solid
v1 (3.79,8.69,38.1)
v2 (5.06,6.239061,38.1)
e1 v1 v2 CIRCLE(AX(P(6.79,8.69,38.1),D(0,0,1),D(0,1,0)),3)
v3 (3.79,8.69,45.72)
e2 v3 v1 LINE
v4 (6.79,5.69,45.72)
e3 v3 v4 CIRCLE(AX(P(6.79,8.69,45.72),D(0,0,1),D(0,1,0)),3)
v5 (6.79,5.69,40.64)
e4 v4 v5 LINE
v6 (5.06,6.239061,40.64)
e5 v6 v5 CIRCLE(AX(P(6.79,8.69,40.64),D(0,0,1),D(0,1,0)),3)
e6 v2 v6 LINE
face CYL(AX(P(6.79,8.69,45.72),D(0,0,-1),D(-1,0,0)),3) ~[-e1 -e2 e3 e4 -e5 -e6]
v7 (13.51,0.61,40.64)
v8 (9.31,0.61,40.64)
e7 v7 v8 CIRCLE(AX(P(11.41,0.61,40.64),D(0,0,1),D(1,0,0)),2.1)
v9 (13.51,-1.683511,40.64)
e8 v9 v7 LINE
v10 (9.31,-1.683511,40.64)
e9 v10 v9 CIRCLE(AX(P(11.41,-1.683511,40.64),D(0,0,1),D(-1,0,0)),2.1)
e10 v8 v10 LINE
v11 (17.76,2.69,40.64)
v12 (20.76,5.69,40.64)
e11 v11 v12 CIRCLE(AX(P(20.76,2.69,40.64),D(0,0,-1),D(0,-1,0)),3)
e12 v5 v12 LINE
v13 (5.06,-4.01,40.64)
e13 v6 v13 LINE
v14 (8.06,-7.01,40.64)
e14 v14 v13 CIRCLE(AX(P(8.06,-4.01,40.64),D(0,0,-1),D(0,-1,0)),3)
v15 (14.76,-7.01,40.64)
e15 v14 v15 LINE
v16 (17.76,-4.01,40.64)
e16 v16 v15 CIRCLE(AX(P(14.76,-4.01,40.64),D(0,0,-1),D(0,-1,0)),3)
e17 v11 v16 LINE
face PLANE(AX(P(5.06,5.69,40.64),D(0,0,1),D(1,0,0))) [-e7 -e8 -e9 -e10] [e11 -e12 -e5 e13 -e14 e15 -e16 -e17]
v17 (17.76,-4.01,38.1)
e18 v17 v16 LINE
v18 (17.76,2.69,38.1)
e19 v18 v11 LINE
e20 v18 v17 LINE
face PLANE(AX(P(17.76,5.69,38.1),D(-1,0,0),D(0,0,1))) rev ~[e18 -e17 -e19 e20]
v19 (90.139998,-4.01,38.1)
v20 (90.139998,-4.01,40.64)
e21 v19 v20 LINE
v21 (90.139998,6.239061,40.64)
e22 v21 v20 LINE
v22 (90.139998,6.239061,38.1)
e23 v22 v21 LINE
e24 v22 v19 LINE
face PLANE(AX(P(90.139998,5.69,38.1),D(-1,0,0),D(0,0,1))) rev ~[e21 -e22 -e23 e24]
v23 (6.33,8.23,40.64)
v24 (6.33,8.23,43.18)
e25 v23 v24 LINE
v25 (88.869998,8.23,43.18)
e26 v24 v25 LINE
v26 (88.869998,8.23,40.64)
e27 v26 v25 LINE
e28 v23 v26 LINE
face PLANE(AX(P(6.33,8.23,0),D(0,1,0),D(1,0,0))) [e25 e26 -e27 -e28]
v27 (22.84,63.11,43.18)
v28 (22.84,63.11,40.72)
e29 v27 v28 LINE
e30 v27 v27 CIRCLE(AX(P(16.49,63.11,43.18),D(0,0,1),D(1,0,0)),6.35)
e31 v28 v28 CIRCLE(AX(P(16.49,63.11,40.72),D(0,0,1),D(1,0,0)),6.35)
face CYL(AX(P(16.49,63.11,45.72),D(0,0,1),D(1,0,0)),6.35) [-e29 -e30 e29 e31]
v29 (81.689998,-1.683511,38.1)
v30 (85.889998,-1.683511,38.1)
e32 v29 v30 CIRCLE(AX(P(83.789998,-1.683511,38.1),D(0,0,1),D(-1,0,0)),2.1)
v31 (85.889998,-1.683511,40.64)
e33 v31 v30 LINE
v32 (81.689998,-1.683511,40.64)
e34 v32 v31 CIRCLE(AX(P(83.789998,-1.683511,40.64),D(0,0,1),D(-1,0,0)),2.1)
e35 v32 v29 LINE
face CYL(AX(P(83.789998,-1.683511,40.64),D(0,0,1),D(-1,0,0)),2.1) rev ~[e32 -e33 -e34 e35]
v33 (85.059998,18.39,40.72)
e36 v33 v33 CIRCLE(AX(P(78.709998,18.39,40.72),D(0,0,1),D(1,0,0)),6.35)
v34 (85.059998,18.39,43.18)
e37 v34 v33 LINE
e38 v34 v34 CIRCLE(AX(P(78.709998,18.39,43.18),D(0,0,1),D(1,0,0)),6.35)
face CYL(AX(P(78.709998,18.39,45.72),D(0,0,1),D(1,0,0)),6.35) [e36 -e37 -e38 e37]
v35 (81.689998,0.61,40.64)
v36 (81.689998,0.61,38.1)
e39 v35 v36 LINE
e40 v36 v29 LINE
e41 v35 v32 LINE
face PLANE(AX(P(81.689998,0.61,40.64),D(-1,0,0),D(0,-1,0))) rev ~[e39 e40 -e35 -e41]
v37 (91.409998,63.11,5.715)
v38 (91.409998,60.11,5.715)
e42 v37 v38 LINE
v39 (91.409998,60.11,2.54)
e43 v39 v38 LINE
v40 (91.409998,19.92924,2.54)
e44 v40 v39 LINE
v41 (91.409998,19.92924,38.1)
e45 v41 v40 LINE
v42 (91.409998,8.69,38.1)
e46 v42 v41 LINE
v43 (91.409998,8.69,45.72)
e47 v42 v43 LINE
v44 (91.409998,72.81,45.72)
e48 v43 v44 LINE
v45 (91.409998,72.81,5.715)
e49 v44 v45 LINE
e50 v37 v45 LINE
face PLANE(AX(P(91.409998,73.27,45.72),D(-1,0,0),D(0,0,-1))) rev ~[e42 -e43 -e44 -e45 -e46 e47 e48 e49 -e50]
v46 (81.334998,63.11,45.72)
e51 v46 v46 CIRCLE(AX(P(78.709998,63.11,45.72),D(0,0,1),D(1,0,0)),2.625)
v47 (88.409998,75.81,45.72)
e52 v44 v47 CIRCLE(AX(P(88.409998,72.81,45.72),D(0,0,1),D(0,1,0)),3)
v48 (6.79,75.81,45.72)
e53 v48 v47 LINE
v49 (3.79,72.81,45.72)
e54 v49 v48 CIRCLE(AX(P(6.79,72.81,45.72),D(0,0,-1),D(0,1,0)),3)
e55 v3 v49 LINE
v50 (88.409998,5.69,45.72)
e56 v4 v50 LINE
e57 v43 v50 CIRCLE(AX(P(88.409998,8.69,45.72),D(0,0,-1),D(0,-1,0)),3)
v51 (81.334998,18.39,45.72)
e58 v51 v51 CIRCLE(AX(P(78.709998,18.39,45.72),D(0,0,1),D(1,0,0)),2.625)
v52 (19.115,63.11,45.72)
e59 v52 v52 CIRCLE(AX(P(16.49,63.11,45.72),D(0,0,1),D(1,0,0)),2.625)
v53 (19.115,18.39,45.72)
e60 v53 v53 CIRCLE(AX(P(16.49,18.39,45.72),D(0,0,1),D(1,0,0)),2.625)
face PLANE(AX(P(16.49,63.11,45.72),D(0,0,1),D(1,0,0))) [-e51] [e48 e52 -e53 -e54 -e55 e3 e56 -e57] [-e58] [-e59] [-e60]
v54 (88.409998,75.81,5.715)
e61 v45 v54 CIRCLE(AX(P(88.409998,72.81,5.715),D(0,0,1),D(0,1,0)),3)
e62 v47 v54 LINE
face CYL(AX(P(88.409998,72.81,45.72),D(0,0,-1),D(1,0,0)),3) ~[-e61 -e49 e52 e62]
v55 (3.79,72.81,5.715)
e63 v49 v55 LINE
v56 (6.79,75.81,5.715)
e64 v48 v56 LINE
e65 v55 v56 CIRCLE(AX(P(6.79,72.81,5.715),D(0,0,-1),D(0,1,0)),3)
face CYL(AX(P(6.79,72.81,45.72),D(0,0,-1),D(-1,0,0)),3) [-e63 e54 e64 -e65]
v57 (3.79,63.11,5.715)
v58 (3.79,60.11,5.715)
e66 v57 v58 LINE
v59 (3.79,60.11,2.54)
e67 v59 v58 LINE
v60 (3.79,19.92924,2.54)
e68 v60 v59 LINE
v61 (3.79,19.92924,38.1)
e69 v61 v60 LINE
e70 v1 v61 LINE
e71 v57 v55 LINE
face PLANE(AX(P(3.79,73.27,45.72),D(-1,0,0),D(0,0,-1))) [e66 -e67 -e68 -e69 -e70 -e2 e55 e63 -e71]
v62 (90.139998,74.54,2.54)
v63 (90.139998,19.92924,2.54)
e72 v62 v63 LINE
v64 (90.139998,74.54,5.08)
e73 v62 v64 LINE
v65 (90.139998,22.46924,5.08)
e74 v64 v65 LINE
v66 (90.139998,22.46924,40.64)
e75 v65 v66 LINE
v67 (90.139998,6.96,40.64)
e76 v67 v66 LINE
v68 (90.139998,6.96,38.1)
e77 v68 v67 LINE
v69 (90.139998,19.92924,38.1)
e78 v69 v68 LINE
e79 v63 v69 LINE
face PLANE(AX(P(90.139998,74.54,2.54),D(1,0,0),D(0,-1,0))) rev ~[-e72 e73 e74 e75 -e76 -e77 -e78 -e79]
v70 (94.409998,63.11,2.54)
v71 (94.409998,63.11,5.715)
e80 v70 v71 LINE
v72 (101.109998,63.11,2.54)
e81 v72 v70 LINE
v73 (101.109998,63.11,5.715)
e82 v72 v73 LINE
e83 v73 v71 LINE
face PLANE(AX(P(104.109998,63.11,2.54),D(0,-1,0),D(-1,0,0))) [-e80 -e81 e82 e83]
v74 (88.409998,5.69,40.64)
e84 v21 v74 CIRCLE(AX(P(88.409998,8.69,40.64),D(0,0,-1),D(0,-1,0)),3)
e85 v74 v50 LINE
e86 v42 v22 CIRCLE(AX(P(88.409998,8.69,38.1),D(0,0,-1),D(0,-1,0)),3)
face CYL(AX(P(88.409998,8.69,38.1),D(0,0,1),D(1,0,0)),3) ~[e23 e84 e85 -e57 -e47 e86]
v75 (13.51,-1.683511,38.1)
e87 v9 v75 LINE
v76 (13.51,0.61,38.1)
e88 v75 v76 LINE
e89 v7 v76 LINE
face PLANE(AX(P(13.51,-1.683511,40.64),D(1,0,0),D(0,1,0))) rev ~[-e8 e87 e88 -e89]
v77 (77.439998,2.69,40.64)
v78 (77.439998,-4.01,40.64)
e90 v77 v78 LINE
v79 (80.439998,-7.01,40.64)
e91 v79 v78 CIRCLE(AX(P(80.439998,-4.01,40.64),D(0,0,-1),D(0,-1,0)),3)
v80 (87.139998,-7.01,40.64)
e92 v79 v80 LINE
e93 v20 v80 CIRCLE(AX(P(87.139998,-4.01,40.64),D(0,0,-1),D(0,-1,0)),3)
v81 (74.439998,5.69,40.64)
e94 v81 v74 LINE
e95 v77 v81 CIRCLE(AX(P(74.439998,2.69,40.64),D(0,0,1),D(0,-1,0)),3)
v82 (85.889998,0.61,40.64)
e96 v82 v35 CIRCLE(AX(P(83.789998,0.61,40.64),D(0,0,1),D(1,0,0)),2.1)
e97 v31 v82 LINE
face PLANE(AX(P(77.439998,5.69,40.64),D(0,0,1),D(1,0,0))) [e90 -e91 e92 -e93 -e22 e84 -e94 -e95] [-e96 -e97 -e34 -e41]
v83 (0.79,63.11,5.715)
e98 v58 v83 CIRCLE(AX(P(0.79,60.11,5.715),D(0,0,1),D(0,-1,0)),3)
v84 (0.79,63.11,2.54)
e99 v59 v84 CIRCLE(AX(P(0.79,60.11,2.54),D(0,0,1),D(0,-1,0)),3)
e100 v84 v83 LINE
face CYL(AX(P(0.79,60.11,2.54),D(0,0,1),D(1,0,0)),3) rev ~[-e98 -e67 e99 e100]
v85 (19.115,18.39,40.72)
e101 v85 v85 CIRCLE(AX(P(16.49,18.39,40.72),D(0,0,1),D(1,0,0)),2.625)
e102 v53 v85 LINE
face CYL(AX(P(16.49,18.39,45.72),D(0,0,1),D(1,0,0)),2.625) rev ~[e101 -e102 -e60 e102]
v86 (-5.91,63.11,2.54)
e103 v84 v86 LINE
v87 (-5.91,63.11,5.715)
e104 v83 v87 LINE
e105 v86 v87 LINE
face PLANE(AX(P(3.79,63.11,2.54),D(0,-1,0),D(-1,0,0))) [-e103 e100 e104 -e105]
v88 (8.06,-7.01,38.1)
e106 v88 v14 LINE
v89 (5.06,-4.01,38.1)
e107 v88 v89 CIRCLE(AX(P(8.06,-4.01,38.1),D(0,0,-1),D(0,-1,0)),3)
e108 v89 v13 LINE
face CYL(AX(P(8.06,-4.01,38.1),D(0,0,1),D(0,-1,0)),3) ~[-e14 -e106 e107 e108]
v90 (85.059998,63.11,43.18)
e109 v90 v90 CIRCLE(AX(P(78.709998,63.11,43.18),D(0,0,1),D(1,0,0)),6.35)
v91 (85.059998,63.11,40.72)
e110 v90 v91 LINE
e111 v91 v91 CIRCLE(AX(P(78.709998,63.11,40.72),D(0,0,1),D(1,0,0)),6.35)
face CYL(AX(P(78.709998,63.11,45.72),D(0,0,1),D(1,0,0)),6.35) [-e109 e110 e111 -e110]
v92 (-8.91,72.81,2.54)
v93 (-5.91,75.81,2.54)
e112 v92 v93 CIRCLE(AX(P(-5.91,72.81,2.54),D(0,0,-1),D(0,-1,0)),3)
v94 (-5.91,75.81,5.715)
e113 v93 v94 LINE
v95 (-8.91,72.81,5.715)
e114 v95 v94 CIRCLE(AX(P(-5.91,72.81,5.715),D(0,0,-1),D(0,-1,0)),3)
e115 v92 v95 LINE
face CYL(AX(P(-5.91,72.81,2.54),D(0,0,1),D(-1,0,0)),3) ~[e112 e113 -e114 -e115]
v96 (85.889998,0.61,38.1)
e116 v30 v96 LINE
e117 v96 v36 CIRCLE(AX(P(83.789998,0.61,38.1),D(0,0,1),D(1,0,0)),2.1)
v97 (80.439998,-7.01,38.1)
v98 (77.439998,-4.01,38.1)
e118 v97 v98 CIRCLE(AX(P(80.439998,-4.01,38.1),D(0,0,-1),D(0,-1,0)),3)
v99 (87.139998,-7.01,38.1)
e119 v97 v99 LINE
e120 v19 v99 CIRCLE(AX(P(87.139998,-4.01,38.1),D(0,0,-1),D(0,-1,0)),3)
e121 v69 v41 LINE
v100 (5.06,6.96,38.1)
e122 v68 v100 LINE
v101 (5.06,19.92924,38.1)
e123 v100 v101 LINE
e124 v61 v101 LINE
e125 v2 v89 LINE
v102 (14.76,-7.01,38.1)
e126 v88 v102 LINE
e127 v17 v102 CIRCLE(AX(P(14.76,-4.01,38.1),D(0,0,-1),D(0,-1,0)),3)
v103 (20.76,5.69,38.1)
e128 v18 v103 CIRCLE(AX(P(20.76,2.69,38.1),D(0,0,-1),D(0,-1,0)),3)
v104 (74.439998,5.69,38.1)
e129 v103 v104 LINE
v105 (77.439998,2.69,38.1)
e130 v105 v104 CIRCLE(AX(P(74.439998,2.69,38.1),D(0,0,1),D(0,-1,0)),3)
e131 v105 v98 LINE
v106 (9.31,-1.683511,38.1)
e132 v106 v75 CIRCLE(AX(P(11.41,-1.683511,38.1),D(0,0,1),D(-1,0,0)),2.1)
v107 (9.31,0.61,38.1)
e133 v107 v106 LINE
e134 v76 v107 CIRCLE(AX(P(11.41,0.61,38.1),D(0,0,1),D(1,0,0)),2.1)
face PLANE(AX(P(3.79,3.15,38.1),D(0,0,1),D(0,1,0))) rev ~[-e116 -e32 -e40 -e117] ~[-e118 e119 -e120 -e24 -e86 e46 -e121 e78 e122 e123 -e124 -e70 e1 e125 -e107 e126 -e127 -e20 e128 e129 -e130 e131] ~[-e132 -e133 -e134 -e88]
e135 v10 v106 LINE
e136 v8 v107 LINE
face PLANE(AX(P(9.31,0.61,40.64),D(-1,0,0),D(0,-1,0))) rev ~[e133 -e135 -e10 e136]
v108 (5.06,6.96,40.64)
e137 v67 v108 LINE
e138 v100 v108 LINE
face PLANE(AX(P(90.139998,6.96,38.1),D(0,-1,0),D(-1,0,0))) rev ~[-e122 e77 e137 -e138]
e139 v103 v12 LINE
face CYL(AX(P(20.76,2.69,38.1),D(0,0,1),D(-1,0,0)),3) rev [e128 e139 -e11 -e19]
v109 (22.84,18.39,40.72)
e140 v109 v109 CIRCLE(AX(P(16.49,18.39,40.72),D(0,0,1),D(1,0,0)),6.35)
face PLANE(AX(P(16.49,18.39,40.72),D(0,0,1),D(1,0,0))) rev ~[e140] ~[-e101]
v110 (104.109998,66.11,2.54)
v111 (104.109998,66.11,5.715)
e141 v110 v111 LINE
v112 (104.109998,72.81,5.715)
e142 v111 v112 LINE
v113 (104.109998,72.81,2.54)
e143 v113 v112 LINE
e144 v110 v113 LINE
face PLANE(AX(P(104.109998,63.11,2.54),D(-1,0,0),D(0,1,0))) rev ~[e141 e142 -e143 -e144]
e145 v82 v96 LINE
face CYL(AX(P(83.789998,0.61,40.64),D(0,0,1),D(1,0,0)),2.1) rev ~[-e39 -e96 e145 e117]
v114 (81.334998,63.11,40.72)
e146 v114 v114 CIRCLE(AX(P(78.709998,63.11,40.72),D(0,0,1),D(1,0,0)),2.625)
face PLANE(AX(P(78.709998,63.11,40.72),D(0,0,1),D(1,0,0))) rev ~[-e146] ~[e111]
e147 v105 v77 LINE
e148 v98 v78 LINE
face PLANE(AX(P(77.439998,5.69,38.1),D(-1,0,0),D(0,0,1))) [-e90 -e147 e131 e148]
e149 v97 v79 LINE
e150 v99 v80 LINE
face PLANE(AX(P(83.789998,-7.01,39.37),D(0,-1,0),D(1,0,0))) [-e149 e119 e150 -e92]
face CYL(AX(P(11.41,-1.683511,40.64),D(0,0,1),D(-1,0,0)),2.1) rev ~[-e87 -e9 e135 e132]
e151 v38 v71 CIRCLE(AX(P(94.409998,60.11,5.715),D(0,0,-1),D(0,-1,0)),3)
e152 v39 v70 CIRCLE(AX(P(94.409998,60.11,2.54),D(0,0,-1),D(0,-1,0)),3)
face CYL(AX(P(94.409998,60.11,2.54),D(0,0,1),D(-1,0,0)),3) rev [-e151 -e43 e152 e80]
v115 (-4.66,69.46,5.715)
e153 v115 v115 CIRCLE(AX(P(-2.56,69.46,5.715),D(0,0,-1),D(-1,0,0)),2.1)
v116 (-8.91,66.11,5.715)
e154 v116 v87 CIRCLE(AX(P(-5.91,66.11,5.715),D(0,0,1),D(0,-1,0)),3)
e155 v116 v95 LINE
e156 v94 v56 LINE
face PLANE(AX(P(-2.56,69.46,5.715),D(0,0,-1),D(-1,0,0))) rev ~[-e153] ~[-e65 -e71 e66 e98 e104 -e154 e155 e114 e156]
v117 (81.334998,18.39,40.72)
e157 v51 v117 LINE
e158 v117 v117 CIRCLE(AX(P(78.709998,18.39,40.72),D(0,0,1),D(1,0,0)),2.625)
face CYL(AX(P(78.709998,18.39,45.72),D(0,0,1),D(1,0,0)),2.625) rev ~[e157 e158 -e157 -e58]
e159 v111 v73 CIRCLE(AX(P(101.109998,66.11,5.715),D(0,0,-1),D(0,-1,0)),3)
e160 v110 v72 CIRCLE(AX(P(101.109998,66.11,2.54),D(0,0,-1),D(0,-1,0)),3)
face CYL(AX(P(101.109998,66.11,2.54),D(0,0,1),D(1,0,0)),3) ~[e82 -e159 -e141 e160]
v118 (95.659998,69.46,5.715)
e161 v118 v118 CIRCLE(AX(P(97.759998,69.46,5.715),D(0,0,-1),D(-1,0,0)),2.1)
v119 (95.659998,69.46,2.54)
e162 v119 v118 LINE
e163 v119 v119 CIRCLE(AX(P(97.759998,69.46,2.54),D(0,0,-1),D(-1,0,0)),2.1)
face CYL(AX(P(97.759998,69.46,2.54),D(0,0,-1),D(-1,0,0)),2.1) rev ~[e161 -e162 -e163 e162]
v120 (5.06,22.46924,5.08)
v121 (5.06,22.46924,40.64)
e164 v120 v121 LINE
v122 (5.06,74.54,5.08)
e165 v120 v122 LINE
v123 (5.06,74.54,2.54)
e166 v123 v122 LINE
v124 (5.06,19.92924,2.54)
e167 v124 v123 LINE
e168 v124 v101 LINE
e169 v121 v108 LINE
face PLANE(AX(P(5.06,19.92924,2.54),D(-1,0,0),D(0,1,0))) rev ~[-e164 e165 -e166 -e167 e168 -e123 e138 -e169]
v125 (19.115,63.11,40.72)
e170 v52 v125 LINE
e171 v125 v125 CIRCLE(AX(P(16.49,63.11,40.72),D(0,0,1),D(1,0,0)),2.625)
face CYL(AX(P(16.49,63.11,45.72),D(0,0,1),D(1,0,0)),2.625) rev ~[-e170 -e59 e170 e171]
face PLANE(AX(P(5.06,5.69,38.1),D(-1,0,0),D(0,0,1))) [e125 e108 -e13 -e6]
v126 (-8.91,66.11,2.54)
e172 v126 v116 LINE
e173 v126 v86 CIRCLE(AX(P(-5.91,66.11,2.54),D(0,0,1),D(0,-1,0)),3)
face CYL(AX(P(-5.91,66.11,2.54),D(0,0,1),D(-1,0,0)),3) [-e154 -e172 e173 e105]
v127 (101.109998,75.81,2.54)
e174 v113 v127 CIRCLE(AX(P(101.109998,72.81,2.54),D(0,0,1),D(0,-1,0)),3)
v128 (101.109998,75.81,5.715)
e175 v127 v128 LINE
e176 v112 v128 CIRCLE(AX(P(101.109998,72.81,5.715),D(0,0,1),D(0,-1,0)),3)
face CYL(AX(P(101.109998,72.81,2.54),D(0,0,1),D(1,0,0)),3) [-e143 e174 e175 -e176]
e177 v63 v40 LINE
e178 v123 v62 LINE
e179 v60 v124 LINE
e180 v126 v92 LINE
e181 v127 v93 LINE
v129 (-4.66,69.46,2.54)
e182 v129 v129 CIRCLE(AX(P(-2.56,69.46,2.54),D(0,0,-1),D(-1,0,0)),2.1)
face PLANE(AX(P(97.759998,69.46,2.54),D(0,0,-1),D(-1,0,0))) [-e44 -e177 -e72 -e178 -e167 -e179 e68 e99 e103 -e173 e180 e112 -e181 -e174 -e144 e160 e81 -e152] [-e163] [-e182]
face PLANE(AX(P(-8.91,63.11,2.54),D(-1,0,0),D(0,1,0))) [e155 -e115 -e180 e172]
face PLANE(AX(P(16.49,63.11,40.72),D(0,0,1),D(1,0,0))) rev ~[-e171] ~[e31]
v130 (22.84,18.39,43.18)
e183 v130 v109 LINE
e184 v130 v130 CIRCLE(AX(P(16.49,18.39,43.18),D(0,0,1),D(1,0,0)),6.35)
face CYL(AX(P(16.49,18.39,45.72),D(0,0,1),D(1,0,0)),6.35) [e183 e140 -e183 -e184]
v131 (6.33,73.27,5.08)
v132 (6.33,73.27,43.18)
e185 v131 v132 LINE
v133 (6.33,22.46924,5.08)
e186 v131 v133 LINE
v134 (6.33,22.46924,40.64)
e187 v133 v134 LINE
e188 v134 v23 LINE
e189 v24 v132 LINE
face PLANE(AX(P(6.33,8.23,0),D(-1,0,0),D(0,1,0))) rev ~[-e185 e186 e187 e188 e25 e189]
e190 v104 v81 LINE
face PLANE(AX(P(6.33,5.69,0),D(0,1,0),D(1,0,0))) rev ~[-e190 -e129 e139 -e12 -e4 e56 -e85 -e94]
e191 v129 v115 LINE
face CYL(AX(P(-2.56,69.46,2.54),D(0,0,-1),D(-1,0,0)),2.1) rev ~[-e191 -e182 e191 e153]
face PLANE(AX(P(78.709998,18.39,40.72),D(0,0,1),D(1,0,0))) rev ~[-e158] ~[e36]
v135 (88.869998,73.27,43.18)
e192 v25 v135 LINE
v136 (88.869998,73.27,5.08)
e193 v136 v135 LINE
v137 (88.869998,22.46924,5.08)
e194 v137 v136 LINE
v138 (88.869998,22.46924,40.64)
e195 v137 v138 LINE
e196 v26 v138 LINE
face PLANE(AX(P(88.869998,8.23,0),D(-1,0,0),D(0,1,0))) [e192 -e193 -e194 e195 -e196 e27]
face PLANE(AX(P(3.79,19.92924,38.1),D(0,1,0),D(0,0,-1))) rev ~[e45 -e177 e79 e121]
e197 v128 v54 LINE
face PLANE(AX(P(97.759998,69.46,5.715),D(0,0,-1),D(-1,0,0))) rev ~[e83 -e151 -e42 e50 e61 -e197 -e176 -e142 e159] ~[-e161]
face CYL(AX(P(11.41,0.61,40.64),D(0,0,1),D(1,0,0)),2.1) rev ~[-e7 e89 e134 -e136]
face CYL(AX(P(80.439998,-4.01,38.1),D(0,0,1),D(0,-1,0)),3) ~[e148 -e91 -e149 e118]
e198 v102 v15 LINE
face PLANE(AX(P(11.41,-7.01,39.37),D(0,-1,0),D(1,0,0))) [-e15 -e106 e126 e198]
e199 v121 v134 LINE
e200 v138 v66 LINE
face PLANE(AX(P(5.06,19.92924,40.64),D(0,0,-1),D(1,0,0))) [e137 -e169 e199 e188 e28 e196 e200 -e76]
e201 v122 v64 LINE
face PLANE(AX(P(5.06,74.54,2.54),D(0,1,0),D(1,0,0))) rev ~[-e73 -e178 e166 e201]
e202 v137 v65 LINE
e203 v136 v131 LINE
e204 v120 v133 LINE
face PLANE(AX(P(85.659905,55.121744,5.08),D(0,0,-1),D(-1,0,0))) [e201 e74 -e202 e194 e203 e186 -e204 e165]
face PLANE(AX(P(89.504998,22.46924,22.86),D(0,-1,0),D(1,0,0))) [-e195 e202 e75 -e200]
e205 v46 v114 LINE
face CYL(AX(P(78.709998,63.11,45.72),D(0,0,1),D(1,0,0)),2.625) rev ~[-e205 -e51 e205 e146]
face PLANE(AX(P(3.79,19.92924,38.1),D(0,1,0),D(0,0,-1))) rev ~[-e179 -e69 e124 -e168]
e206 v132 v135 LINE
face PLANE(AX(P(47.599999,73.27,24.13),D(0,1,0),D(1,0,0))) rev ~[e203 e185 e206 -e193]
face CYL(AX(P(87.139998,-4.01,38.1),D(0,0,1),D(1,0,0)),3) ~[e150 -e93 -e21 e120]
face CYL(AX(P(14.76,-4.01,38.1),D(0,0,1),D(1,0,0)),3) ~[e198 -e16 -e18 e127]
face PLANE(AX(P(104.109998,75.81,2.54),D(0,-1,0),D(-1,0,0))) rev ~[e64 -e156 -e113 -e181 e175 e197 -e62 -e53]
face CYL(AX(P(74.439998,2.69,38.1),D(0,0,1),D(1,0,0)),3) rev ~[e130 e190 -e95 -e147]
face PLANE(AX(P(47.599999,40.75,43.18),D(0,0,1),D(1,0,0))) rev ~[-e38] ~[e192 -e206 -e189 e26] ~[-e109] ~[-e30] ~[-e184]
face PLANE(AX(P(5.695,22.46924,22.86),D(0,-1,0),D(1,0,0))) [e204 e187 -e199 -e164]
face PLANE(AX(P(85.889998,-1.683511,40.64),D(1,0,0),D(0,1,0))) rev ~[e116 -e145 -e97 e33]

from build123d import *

# Parameters (mm, degrees)
SKETCH1_W           = 82.539998569
SKETCH1_H           = 65.04
BOSS_EXTRUDE1_DEPTH = 43.18
SHELL1_T            = 2.54
CUT_EXTRUDE2_DEPTH  = 124.028758627
SKETCH7_W           = 87.619998569
SKETCH7_H           = 43.18
BOSS_EXTRUDE2_DEPTH = 2.54
CUT_EXTRUDE3_DEPTH  = 2.54
CUT_EXTRUDE4_DEPTH  = 2.54
SKETCH10_W          = 1.27
SKETCH10_H          = 35.56
CUT_EXTRUDE5_DEPTH  = 2.54
SKETCH11_W          = 12.7
SKETCH11_H          = 2.54
BOSS_EXTRUDE3_DEPTH = 12.7
CUT_EXTRUDE7_DEPTH  = 125.717897357
SKETCH13_W          = 12.7
SKETCH13_H          = 12.7
SKETCH13_R          = 2.1
BOSS_EXTRUDE4_DEPTH = 3.175
FILLET2_R           = 3
SKETCH14_R          = 6.35
BOSS_EXTRUDE5_DEPTH = 5
SKETCH15_R          = 2.625
CUT_EXTRUDE8_DEPTH  = 5


with BuildPart() as part:
    # Sketch1 → Boss-Extrude1 (new body)
    with BuildSketch(Plane.XY):
        with Locations((47.599999189, 40.75)):
            Rectangle(SKETCH1_W, SKETCH1_H)
    extrude(amount=BOSS_EXTRUDE1_DEPTH)

    # Shell1
    shell1_openings = [part.faces().sort_by_distance(p)[0] for p in [
        (47.599999189, 73.27, 21.59),
        (47.599999189, 40.75, 0),
    ]]
    offset(amount=SHELL1_T, openings=shell1_openings, kind=Kind.INTERSECTION)

    # Sketch6 → Cut-Extrude2 (cut, through all)
    with BuildSketch(Plane.ZY.offset(-3.789999905)):
        Polygon((2.54, 59.03), (2.54, 73.27), (0, 73.27), (0, 59.03), (0, 3.15), (38.1, 3.15), (38.1, 19.92924), (2.54, 19.92924), align=None)
    extrude(amount=-CUT_EXTRUDE2_DEPTH, mode=Mode.SUBTRACT)

    # Sketch7 → Boss-Extrude2 (add)
    with BuildSketch(Plane(origin=(0, 73.27, 0), x_dir=(1, 0, 0), z_dir=(0, 1, 0))):
        with Locations((47.59999919, -24.13)):
            Rectangle(SKETCH7_W, SKETCH7_H)
    extrude(amount=BOSS_EXTRUDE2_DEPTH)

    # Sketch8 → Cut-Extrude3 (cut)
    with BuildSketch(Plane(origin=(0, 0, 2.54), x_dir=(-1, 0, 0), z_dir=(0, 0, -1))):
        Polygon((-65.405564728, 73.27), (-65.405564728, 74.54), (-90.139998474, 74.54), (-90.139998474, 19.92924), (-88.869998474, 19.92924), (-88.869998474, 73.27), align=None)
        Polygon((-5.059999905, 74.54), (-65.405564728, 74.54), (-65.405564728, 73.27), (-6.329999905, 73.27), (-6.329999905, 19.92924), (-5.059999905, 19.92924), align=None)
    extrude(amount=-CUT_EXTRUDE3_DEPTH, mode=Mode.SUBTRACT)

    # Sketch9 → Cut-Extrude4 (cut)
    with BuildSketch(Plane(origin=(0, 0, 38.1), x_dir=(-1, 0, 0), z_dir=(0, 0, -1))):
        Polygon((-90.139998474, 19.92924), (-90.139998474, 6.96), (-5.059999905, 6.96), (-5.059999905, 19.92924), (-6.329999905, 19.92924), (-6.329999905, 8.23), (-88.869998474, 8.23), (-88.869998474, 19.92924), align=None)
    extrude(amount=-CUT_EXTRUDE4_DEPTH, mode=Mode.SUBTRACT)

    # Sketch10 → Cut-Extrude5 (cut)
    with BuildSketch(Plane.XZ.offset(-19.92924)):
        with Locations((5.694999905, 22.86)):
            Rectangle(SKETCH10_W, SKETCH10_H)
        with Locations((89.504998474, 22.86)):
            Rectangle(SKETCH10_W, SKETCH10_H)
    extrude(amount=-CUT_EXTRUDE5_DEPTH, mode=Mode.SUBTRACT)

    # Sketch11 → Boss-Extrude3 (add)
    with BuildSketch(Plane.XZ.offset(-5.69)):
        with Locations((11.409999905, 39.37)):
            Rectangle(SKETCH11_W, SKETCH11_H)
        with Locations((83.789998474, 39.37)):
            Rectangle(SKETCH11_W, SKETCH11_H)
    extrude(amount=BOSS_EXTRUDE3_DEPTH)

    # Sketch12 → Cut-Extrude7 (cut, through all)
    with BuildSketch(Plane.XY.offset(40.64)):
        with BuildLine():
            Line((9.309999905, 0.61), (9.309999905, -1.683510845))
            ThreePointArc((9.309999905, -1.683510845), (11.409999905, -3.783510845), (13.509999905, -1.683510845))
            Line((13.509999905, -1.683510845), (13.509999905, 0.61))
            ThreePointArc((13.509999905, 0.61), (11.409999905, 2.71), (9.309999905, 0.61))
        make_face()
        with BuildLine():
            Line((81.689998474, 0.61), (81.689998474, -1.683510845))
            ThreePointArc((81.689998474, -1.683510845), (83.789998474, -3.783510845), (85.889998474, -1.683510845))
            Line((85.889998474, -1.683510845), (85.889998474, 0.61))
            ThreePointArc((85.889998474, 0.61), (83.789998474, 2.71), (81.689998474, 0.61))
        make_face()
    extrude(amount=-CUT_EXTRUDE7_DEPTH, mode=Mode.SUBTRACT)

    # Sketch13 → Boss-Extrude4 (add)
    # profile 1 of 2: a face of its own
    with BuildSketch(Plane(origin=(0, 0, 2.54), x_dir=(-1, 0, 0), z_dir=(0, 0, -1))):
        with Locations((-97.759998474, 69.46)):
            Rectangle(SKETCH13_W, SKETCH13_H)
        with Locations((-97.759998474, 69.46)):
            Circle(SKETCH13_R, mode=Mode.SUBTRACT)
    # profile 2 of 2: a face of its own
    with BuildSketch(Plane(origin=(0, 0, 2.54), x_dir=(-1, 0, 0), z_dir=(0, 0, -1))):
        with Locations((2.560000095, 69.46)):
            Rectangle(SKETCH13_W, SKETCH13_H)
        with Locations((2.560000095, 69.46)):
            Circle(SKETCH13_R, mode=Mode.SUBTRACT)
    extrude(amount=-BOSS_EXTRUDE4_DEPTH)

    # Fillet2
    fillet2_edges = [part.edges().sort_by_distance(p)[0] for p in [
        (77.439998474, 5.69, 39.37),
        (77.439998474, -7.01, 39.37),
        (90.139998474, -7.01, 39.37),
        (17.759999905, -7.01, 39.37),
        (5.059999905, -7.01, 39.37),
        (17.759999905, 5.69, 39.37),
        (3.789999905, 63.11, 4.1275),
        (-8.910000095, 63.11, 4.1275),
        (-8.910000095, 75.81, 4.1275),
        (104.109998474, 63.11, 4.1275),
        (91.409998474, 63.11, 4.1275),
        (104.109998474, 75.81, 4.1275),
        (91.409998474, 75.81, 25.7175),
        (3.789999905, 75.81, 25.7175),
        (3.789999905, 5.69, 41.91),
        (91.409998474, 5.69, 41.91),
    ]]
    fillet(fillet2_edges, radius=FILLET2_R)

    # Sketch14 → Boss-Extrude5 (add)
    with BuildSketch(Plane.XY.offset(45.72)):
        with Locations((16.489999905, 63.11)):
            Circle(SKETCH14_R)
        with Locations((16.489999905, 18.39)):
            Circle(SKETCH14_R)
        with Locations((78.709998474, 18.39)):
            Circle(SKETCH14_R)
        with Locations((78.709998474, 63.11)):
            Circle(SKETCH14_R)
    extrude(amount=-BOSS_EXTRUDE5_DEPTH)

    # Sketch15 → Cut-Extrude8 (cut)
    with BuildSketch(Plane.XY.offset(45.72)):
        with Locations((16.489999905, 63.11)):
            Circle(SKETCH15_R)
        with Locations((78.709998474, 63.11)):
            Circle(SKETCH15_R)
        with Locations((16.489999905, 18.39)):
            Circle(SKETCH15_R)
        with Locations((78.709998474, 18.39)):
            Circle(SKETCH15_R)
    extrude(amount=-CUT_EXTRUDE8_DEPTH, mode=Mode.SUBTRACT)


solid = part.part
